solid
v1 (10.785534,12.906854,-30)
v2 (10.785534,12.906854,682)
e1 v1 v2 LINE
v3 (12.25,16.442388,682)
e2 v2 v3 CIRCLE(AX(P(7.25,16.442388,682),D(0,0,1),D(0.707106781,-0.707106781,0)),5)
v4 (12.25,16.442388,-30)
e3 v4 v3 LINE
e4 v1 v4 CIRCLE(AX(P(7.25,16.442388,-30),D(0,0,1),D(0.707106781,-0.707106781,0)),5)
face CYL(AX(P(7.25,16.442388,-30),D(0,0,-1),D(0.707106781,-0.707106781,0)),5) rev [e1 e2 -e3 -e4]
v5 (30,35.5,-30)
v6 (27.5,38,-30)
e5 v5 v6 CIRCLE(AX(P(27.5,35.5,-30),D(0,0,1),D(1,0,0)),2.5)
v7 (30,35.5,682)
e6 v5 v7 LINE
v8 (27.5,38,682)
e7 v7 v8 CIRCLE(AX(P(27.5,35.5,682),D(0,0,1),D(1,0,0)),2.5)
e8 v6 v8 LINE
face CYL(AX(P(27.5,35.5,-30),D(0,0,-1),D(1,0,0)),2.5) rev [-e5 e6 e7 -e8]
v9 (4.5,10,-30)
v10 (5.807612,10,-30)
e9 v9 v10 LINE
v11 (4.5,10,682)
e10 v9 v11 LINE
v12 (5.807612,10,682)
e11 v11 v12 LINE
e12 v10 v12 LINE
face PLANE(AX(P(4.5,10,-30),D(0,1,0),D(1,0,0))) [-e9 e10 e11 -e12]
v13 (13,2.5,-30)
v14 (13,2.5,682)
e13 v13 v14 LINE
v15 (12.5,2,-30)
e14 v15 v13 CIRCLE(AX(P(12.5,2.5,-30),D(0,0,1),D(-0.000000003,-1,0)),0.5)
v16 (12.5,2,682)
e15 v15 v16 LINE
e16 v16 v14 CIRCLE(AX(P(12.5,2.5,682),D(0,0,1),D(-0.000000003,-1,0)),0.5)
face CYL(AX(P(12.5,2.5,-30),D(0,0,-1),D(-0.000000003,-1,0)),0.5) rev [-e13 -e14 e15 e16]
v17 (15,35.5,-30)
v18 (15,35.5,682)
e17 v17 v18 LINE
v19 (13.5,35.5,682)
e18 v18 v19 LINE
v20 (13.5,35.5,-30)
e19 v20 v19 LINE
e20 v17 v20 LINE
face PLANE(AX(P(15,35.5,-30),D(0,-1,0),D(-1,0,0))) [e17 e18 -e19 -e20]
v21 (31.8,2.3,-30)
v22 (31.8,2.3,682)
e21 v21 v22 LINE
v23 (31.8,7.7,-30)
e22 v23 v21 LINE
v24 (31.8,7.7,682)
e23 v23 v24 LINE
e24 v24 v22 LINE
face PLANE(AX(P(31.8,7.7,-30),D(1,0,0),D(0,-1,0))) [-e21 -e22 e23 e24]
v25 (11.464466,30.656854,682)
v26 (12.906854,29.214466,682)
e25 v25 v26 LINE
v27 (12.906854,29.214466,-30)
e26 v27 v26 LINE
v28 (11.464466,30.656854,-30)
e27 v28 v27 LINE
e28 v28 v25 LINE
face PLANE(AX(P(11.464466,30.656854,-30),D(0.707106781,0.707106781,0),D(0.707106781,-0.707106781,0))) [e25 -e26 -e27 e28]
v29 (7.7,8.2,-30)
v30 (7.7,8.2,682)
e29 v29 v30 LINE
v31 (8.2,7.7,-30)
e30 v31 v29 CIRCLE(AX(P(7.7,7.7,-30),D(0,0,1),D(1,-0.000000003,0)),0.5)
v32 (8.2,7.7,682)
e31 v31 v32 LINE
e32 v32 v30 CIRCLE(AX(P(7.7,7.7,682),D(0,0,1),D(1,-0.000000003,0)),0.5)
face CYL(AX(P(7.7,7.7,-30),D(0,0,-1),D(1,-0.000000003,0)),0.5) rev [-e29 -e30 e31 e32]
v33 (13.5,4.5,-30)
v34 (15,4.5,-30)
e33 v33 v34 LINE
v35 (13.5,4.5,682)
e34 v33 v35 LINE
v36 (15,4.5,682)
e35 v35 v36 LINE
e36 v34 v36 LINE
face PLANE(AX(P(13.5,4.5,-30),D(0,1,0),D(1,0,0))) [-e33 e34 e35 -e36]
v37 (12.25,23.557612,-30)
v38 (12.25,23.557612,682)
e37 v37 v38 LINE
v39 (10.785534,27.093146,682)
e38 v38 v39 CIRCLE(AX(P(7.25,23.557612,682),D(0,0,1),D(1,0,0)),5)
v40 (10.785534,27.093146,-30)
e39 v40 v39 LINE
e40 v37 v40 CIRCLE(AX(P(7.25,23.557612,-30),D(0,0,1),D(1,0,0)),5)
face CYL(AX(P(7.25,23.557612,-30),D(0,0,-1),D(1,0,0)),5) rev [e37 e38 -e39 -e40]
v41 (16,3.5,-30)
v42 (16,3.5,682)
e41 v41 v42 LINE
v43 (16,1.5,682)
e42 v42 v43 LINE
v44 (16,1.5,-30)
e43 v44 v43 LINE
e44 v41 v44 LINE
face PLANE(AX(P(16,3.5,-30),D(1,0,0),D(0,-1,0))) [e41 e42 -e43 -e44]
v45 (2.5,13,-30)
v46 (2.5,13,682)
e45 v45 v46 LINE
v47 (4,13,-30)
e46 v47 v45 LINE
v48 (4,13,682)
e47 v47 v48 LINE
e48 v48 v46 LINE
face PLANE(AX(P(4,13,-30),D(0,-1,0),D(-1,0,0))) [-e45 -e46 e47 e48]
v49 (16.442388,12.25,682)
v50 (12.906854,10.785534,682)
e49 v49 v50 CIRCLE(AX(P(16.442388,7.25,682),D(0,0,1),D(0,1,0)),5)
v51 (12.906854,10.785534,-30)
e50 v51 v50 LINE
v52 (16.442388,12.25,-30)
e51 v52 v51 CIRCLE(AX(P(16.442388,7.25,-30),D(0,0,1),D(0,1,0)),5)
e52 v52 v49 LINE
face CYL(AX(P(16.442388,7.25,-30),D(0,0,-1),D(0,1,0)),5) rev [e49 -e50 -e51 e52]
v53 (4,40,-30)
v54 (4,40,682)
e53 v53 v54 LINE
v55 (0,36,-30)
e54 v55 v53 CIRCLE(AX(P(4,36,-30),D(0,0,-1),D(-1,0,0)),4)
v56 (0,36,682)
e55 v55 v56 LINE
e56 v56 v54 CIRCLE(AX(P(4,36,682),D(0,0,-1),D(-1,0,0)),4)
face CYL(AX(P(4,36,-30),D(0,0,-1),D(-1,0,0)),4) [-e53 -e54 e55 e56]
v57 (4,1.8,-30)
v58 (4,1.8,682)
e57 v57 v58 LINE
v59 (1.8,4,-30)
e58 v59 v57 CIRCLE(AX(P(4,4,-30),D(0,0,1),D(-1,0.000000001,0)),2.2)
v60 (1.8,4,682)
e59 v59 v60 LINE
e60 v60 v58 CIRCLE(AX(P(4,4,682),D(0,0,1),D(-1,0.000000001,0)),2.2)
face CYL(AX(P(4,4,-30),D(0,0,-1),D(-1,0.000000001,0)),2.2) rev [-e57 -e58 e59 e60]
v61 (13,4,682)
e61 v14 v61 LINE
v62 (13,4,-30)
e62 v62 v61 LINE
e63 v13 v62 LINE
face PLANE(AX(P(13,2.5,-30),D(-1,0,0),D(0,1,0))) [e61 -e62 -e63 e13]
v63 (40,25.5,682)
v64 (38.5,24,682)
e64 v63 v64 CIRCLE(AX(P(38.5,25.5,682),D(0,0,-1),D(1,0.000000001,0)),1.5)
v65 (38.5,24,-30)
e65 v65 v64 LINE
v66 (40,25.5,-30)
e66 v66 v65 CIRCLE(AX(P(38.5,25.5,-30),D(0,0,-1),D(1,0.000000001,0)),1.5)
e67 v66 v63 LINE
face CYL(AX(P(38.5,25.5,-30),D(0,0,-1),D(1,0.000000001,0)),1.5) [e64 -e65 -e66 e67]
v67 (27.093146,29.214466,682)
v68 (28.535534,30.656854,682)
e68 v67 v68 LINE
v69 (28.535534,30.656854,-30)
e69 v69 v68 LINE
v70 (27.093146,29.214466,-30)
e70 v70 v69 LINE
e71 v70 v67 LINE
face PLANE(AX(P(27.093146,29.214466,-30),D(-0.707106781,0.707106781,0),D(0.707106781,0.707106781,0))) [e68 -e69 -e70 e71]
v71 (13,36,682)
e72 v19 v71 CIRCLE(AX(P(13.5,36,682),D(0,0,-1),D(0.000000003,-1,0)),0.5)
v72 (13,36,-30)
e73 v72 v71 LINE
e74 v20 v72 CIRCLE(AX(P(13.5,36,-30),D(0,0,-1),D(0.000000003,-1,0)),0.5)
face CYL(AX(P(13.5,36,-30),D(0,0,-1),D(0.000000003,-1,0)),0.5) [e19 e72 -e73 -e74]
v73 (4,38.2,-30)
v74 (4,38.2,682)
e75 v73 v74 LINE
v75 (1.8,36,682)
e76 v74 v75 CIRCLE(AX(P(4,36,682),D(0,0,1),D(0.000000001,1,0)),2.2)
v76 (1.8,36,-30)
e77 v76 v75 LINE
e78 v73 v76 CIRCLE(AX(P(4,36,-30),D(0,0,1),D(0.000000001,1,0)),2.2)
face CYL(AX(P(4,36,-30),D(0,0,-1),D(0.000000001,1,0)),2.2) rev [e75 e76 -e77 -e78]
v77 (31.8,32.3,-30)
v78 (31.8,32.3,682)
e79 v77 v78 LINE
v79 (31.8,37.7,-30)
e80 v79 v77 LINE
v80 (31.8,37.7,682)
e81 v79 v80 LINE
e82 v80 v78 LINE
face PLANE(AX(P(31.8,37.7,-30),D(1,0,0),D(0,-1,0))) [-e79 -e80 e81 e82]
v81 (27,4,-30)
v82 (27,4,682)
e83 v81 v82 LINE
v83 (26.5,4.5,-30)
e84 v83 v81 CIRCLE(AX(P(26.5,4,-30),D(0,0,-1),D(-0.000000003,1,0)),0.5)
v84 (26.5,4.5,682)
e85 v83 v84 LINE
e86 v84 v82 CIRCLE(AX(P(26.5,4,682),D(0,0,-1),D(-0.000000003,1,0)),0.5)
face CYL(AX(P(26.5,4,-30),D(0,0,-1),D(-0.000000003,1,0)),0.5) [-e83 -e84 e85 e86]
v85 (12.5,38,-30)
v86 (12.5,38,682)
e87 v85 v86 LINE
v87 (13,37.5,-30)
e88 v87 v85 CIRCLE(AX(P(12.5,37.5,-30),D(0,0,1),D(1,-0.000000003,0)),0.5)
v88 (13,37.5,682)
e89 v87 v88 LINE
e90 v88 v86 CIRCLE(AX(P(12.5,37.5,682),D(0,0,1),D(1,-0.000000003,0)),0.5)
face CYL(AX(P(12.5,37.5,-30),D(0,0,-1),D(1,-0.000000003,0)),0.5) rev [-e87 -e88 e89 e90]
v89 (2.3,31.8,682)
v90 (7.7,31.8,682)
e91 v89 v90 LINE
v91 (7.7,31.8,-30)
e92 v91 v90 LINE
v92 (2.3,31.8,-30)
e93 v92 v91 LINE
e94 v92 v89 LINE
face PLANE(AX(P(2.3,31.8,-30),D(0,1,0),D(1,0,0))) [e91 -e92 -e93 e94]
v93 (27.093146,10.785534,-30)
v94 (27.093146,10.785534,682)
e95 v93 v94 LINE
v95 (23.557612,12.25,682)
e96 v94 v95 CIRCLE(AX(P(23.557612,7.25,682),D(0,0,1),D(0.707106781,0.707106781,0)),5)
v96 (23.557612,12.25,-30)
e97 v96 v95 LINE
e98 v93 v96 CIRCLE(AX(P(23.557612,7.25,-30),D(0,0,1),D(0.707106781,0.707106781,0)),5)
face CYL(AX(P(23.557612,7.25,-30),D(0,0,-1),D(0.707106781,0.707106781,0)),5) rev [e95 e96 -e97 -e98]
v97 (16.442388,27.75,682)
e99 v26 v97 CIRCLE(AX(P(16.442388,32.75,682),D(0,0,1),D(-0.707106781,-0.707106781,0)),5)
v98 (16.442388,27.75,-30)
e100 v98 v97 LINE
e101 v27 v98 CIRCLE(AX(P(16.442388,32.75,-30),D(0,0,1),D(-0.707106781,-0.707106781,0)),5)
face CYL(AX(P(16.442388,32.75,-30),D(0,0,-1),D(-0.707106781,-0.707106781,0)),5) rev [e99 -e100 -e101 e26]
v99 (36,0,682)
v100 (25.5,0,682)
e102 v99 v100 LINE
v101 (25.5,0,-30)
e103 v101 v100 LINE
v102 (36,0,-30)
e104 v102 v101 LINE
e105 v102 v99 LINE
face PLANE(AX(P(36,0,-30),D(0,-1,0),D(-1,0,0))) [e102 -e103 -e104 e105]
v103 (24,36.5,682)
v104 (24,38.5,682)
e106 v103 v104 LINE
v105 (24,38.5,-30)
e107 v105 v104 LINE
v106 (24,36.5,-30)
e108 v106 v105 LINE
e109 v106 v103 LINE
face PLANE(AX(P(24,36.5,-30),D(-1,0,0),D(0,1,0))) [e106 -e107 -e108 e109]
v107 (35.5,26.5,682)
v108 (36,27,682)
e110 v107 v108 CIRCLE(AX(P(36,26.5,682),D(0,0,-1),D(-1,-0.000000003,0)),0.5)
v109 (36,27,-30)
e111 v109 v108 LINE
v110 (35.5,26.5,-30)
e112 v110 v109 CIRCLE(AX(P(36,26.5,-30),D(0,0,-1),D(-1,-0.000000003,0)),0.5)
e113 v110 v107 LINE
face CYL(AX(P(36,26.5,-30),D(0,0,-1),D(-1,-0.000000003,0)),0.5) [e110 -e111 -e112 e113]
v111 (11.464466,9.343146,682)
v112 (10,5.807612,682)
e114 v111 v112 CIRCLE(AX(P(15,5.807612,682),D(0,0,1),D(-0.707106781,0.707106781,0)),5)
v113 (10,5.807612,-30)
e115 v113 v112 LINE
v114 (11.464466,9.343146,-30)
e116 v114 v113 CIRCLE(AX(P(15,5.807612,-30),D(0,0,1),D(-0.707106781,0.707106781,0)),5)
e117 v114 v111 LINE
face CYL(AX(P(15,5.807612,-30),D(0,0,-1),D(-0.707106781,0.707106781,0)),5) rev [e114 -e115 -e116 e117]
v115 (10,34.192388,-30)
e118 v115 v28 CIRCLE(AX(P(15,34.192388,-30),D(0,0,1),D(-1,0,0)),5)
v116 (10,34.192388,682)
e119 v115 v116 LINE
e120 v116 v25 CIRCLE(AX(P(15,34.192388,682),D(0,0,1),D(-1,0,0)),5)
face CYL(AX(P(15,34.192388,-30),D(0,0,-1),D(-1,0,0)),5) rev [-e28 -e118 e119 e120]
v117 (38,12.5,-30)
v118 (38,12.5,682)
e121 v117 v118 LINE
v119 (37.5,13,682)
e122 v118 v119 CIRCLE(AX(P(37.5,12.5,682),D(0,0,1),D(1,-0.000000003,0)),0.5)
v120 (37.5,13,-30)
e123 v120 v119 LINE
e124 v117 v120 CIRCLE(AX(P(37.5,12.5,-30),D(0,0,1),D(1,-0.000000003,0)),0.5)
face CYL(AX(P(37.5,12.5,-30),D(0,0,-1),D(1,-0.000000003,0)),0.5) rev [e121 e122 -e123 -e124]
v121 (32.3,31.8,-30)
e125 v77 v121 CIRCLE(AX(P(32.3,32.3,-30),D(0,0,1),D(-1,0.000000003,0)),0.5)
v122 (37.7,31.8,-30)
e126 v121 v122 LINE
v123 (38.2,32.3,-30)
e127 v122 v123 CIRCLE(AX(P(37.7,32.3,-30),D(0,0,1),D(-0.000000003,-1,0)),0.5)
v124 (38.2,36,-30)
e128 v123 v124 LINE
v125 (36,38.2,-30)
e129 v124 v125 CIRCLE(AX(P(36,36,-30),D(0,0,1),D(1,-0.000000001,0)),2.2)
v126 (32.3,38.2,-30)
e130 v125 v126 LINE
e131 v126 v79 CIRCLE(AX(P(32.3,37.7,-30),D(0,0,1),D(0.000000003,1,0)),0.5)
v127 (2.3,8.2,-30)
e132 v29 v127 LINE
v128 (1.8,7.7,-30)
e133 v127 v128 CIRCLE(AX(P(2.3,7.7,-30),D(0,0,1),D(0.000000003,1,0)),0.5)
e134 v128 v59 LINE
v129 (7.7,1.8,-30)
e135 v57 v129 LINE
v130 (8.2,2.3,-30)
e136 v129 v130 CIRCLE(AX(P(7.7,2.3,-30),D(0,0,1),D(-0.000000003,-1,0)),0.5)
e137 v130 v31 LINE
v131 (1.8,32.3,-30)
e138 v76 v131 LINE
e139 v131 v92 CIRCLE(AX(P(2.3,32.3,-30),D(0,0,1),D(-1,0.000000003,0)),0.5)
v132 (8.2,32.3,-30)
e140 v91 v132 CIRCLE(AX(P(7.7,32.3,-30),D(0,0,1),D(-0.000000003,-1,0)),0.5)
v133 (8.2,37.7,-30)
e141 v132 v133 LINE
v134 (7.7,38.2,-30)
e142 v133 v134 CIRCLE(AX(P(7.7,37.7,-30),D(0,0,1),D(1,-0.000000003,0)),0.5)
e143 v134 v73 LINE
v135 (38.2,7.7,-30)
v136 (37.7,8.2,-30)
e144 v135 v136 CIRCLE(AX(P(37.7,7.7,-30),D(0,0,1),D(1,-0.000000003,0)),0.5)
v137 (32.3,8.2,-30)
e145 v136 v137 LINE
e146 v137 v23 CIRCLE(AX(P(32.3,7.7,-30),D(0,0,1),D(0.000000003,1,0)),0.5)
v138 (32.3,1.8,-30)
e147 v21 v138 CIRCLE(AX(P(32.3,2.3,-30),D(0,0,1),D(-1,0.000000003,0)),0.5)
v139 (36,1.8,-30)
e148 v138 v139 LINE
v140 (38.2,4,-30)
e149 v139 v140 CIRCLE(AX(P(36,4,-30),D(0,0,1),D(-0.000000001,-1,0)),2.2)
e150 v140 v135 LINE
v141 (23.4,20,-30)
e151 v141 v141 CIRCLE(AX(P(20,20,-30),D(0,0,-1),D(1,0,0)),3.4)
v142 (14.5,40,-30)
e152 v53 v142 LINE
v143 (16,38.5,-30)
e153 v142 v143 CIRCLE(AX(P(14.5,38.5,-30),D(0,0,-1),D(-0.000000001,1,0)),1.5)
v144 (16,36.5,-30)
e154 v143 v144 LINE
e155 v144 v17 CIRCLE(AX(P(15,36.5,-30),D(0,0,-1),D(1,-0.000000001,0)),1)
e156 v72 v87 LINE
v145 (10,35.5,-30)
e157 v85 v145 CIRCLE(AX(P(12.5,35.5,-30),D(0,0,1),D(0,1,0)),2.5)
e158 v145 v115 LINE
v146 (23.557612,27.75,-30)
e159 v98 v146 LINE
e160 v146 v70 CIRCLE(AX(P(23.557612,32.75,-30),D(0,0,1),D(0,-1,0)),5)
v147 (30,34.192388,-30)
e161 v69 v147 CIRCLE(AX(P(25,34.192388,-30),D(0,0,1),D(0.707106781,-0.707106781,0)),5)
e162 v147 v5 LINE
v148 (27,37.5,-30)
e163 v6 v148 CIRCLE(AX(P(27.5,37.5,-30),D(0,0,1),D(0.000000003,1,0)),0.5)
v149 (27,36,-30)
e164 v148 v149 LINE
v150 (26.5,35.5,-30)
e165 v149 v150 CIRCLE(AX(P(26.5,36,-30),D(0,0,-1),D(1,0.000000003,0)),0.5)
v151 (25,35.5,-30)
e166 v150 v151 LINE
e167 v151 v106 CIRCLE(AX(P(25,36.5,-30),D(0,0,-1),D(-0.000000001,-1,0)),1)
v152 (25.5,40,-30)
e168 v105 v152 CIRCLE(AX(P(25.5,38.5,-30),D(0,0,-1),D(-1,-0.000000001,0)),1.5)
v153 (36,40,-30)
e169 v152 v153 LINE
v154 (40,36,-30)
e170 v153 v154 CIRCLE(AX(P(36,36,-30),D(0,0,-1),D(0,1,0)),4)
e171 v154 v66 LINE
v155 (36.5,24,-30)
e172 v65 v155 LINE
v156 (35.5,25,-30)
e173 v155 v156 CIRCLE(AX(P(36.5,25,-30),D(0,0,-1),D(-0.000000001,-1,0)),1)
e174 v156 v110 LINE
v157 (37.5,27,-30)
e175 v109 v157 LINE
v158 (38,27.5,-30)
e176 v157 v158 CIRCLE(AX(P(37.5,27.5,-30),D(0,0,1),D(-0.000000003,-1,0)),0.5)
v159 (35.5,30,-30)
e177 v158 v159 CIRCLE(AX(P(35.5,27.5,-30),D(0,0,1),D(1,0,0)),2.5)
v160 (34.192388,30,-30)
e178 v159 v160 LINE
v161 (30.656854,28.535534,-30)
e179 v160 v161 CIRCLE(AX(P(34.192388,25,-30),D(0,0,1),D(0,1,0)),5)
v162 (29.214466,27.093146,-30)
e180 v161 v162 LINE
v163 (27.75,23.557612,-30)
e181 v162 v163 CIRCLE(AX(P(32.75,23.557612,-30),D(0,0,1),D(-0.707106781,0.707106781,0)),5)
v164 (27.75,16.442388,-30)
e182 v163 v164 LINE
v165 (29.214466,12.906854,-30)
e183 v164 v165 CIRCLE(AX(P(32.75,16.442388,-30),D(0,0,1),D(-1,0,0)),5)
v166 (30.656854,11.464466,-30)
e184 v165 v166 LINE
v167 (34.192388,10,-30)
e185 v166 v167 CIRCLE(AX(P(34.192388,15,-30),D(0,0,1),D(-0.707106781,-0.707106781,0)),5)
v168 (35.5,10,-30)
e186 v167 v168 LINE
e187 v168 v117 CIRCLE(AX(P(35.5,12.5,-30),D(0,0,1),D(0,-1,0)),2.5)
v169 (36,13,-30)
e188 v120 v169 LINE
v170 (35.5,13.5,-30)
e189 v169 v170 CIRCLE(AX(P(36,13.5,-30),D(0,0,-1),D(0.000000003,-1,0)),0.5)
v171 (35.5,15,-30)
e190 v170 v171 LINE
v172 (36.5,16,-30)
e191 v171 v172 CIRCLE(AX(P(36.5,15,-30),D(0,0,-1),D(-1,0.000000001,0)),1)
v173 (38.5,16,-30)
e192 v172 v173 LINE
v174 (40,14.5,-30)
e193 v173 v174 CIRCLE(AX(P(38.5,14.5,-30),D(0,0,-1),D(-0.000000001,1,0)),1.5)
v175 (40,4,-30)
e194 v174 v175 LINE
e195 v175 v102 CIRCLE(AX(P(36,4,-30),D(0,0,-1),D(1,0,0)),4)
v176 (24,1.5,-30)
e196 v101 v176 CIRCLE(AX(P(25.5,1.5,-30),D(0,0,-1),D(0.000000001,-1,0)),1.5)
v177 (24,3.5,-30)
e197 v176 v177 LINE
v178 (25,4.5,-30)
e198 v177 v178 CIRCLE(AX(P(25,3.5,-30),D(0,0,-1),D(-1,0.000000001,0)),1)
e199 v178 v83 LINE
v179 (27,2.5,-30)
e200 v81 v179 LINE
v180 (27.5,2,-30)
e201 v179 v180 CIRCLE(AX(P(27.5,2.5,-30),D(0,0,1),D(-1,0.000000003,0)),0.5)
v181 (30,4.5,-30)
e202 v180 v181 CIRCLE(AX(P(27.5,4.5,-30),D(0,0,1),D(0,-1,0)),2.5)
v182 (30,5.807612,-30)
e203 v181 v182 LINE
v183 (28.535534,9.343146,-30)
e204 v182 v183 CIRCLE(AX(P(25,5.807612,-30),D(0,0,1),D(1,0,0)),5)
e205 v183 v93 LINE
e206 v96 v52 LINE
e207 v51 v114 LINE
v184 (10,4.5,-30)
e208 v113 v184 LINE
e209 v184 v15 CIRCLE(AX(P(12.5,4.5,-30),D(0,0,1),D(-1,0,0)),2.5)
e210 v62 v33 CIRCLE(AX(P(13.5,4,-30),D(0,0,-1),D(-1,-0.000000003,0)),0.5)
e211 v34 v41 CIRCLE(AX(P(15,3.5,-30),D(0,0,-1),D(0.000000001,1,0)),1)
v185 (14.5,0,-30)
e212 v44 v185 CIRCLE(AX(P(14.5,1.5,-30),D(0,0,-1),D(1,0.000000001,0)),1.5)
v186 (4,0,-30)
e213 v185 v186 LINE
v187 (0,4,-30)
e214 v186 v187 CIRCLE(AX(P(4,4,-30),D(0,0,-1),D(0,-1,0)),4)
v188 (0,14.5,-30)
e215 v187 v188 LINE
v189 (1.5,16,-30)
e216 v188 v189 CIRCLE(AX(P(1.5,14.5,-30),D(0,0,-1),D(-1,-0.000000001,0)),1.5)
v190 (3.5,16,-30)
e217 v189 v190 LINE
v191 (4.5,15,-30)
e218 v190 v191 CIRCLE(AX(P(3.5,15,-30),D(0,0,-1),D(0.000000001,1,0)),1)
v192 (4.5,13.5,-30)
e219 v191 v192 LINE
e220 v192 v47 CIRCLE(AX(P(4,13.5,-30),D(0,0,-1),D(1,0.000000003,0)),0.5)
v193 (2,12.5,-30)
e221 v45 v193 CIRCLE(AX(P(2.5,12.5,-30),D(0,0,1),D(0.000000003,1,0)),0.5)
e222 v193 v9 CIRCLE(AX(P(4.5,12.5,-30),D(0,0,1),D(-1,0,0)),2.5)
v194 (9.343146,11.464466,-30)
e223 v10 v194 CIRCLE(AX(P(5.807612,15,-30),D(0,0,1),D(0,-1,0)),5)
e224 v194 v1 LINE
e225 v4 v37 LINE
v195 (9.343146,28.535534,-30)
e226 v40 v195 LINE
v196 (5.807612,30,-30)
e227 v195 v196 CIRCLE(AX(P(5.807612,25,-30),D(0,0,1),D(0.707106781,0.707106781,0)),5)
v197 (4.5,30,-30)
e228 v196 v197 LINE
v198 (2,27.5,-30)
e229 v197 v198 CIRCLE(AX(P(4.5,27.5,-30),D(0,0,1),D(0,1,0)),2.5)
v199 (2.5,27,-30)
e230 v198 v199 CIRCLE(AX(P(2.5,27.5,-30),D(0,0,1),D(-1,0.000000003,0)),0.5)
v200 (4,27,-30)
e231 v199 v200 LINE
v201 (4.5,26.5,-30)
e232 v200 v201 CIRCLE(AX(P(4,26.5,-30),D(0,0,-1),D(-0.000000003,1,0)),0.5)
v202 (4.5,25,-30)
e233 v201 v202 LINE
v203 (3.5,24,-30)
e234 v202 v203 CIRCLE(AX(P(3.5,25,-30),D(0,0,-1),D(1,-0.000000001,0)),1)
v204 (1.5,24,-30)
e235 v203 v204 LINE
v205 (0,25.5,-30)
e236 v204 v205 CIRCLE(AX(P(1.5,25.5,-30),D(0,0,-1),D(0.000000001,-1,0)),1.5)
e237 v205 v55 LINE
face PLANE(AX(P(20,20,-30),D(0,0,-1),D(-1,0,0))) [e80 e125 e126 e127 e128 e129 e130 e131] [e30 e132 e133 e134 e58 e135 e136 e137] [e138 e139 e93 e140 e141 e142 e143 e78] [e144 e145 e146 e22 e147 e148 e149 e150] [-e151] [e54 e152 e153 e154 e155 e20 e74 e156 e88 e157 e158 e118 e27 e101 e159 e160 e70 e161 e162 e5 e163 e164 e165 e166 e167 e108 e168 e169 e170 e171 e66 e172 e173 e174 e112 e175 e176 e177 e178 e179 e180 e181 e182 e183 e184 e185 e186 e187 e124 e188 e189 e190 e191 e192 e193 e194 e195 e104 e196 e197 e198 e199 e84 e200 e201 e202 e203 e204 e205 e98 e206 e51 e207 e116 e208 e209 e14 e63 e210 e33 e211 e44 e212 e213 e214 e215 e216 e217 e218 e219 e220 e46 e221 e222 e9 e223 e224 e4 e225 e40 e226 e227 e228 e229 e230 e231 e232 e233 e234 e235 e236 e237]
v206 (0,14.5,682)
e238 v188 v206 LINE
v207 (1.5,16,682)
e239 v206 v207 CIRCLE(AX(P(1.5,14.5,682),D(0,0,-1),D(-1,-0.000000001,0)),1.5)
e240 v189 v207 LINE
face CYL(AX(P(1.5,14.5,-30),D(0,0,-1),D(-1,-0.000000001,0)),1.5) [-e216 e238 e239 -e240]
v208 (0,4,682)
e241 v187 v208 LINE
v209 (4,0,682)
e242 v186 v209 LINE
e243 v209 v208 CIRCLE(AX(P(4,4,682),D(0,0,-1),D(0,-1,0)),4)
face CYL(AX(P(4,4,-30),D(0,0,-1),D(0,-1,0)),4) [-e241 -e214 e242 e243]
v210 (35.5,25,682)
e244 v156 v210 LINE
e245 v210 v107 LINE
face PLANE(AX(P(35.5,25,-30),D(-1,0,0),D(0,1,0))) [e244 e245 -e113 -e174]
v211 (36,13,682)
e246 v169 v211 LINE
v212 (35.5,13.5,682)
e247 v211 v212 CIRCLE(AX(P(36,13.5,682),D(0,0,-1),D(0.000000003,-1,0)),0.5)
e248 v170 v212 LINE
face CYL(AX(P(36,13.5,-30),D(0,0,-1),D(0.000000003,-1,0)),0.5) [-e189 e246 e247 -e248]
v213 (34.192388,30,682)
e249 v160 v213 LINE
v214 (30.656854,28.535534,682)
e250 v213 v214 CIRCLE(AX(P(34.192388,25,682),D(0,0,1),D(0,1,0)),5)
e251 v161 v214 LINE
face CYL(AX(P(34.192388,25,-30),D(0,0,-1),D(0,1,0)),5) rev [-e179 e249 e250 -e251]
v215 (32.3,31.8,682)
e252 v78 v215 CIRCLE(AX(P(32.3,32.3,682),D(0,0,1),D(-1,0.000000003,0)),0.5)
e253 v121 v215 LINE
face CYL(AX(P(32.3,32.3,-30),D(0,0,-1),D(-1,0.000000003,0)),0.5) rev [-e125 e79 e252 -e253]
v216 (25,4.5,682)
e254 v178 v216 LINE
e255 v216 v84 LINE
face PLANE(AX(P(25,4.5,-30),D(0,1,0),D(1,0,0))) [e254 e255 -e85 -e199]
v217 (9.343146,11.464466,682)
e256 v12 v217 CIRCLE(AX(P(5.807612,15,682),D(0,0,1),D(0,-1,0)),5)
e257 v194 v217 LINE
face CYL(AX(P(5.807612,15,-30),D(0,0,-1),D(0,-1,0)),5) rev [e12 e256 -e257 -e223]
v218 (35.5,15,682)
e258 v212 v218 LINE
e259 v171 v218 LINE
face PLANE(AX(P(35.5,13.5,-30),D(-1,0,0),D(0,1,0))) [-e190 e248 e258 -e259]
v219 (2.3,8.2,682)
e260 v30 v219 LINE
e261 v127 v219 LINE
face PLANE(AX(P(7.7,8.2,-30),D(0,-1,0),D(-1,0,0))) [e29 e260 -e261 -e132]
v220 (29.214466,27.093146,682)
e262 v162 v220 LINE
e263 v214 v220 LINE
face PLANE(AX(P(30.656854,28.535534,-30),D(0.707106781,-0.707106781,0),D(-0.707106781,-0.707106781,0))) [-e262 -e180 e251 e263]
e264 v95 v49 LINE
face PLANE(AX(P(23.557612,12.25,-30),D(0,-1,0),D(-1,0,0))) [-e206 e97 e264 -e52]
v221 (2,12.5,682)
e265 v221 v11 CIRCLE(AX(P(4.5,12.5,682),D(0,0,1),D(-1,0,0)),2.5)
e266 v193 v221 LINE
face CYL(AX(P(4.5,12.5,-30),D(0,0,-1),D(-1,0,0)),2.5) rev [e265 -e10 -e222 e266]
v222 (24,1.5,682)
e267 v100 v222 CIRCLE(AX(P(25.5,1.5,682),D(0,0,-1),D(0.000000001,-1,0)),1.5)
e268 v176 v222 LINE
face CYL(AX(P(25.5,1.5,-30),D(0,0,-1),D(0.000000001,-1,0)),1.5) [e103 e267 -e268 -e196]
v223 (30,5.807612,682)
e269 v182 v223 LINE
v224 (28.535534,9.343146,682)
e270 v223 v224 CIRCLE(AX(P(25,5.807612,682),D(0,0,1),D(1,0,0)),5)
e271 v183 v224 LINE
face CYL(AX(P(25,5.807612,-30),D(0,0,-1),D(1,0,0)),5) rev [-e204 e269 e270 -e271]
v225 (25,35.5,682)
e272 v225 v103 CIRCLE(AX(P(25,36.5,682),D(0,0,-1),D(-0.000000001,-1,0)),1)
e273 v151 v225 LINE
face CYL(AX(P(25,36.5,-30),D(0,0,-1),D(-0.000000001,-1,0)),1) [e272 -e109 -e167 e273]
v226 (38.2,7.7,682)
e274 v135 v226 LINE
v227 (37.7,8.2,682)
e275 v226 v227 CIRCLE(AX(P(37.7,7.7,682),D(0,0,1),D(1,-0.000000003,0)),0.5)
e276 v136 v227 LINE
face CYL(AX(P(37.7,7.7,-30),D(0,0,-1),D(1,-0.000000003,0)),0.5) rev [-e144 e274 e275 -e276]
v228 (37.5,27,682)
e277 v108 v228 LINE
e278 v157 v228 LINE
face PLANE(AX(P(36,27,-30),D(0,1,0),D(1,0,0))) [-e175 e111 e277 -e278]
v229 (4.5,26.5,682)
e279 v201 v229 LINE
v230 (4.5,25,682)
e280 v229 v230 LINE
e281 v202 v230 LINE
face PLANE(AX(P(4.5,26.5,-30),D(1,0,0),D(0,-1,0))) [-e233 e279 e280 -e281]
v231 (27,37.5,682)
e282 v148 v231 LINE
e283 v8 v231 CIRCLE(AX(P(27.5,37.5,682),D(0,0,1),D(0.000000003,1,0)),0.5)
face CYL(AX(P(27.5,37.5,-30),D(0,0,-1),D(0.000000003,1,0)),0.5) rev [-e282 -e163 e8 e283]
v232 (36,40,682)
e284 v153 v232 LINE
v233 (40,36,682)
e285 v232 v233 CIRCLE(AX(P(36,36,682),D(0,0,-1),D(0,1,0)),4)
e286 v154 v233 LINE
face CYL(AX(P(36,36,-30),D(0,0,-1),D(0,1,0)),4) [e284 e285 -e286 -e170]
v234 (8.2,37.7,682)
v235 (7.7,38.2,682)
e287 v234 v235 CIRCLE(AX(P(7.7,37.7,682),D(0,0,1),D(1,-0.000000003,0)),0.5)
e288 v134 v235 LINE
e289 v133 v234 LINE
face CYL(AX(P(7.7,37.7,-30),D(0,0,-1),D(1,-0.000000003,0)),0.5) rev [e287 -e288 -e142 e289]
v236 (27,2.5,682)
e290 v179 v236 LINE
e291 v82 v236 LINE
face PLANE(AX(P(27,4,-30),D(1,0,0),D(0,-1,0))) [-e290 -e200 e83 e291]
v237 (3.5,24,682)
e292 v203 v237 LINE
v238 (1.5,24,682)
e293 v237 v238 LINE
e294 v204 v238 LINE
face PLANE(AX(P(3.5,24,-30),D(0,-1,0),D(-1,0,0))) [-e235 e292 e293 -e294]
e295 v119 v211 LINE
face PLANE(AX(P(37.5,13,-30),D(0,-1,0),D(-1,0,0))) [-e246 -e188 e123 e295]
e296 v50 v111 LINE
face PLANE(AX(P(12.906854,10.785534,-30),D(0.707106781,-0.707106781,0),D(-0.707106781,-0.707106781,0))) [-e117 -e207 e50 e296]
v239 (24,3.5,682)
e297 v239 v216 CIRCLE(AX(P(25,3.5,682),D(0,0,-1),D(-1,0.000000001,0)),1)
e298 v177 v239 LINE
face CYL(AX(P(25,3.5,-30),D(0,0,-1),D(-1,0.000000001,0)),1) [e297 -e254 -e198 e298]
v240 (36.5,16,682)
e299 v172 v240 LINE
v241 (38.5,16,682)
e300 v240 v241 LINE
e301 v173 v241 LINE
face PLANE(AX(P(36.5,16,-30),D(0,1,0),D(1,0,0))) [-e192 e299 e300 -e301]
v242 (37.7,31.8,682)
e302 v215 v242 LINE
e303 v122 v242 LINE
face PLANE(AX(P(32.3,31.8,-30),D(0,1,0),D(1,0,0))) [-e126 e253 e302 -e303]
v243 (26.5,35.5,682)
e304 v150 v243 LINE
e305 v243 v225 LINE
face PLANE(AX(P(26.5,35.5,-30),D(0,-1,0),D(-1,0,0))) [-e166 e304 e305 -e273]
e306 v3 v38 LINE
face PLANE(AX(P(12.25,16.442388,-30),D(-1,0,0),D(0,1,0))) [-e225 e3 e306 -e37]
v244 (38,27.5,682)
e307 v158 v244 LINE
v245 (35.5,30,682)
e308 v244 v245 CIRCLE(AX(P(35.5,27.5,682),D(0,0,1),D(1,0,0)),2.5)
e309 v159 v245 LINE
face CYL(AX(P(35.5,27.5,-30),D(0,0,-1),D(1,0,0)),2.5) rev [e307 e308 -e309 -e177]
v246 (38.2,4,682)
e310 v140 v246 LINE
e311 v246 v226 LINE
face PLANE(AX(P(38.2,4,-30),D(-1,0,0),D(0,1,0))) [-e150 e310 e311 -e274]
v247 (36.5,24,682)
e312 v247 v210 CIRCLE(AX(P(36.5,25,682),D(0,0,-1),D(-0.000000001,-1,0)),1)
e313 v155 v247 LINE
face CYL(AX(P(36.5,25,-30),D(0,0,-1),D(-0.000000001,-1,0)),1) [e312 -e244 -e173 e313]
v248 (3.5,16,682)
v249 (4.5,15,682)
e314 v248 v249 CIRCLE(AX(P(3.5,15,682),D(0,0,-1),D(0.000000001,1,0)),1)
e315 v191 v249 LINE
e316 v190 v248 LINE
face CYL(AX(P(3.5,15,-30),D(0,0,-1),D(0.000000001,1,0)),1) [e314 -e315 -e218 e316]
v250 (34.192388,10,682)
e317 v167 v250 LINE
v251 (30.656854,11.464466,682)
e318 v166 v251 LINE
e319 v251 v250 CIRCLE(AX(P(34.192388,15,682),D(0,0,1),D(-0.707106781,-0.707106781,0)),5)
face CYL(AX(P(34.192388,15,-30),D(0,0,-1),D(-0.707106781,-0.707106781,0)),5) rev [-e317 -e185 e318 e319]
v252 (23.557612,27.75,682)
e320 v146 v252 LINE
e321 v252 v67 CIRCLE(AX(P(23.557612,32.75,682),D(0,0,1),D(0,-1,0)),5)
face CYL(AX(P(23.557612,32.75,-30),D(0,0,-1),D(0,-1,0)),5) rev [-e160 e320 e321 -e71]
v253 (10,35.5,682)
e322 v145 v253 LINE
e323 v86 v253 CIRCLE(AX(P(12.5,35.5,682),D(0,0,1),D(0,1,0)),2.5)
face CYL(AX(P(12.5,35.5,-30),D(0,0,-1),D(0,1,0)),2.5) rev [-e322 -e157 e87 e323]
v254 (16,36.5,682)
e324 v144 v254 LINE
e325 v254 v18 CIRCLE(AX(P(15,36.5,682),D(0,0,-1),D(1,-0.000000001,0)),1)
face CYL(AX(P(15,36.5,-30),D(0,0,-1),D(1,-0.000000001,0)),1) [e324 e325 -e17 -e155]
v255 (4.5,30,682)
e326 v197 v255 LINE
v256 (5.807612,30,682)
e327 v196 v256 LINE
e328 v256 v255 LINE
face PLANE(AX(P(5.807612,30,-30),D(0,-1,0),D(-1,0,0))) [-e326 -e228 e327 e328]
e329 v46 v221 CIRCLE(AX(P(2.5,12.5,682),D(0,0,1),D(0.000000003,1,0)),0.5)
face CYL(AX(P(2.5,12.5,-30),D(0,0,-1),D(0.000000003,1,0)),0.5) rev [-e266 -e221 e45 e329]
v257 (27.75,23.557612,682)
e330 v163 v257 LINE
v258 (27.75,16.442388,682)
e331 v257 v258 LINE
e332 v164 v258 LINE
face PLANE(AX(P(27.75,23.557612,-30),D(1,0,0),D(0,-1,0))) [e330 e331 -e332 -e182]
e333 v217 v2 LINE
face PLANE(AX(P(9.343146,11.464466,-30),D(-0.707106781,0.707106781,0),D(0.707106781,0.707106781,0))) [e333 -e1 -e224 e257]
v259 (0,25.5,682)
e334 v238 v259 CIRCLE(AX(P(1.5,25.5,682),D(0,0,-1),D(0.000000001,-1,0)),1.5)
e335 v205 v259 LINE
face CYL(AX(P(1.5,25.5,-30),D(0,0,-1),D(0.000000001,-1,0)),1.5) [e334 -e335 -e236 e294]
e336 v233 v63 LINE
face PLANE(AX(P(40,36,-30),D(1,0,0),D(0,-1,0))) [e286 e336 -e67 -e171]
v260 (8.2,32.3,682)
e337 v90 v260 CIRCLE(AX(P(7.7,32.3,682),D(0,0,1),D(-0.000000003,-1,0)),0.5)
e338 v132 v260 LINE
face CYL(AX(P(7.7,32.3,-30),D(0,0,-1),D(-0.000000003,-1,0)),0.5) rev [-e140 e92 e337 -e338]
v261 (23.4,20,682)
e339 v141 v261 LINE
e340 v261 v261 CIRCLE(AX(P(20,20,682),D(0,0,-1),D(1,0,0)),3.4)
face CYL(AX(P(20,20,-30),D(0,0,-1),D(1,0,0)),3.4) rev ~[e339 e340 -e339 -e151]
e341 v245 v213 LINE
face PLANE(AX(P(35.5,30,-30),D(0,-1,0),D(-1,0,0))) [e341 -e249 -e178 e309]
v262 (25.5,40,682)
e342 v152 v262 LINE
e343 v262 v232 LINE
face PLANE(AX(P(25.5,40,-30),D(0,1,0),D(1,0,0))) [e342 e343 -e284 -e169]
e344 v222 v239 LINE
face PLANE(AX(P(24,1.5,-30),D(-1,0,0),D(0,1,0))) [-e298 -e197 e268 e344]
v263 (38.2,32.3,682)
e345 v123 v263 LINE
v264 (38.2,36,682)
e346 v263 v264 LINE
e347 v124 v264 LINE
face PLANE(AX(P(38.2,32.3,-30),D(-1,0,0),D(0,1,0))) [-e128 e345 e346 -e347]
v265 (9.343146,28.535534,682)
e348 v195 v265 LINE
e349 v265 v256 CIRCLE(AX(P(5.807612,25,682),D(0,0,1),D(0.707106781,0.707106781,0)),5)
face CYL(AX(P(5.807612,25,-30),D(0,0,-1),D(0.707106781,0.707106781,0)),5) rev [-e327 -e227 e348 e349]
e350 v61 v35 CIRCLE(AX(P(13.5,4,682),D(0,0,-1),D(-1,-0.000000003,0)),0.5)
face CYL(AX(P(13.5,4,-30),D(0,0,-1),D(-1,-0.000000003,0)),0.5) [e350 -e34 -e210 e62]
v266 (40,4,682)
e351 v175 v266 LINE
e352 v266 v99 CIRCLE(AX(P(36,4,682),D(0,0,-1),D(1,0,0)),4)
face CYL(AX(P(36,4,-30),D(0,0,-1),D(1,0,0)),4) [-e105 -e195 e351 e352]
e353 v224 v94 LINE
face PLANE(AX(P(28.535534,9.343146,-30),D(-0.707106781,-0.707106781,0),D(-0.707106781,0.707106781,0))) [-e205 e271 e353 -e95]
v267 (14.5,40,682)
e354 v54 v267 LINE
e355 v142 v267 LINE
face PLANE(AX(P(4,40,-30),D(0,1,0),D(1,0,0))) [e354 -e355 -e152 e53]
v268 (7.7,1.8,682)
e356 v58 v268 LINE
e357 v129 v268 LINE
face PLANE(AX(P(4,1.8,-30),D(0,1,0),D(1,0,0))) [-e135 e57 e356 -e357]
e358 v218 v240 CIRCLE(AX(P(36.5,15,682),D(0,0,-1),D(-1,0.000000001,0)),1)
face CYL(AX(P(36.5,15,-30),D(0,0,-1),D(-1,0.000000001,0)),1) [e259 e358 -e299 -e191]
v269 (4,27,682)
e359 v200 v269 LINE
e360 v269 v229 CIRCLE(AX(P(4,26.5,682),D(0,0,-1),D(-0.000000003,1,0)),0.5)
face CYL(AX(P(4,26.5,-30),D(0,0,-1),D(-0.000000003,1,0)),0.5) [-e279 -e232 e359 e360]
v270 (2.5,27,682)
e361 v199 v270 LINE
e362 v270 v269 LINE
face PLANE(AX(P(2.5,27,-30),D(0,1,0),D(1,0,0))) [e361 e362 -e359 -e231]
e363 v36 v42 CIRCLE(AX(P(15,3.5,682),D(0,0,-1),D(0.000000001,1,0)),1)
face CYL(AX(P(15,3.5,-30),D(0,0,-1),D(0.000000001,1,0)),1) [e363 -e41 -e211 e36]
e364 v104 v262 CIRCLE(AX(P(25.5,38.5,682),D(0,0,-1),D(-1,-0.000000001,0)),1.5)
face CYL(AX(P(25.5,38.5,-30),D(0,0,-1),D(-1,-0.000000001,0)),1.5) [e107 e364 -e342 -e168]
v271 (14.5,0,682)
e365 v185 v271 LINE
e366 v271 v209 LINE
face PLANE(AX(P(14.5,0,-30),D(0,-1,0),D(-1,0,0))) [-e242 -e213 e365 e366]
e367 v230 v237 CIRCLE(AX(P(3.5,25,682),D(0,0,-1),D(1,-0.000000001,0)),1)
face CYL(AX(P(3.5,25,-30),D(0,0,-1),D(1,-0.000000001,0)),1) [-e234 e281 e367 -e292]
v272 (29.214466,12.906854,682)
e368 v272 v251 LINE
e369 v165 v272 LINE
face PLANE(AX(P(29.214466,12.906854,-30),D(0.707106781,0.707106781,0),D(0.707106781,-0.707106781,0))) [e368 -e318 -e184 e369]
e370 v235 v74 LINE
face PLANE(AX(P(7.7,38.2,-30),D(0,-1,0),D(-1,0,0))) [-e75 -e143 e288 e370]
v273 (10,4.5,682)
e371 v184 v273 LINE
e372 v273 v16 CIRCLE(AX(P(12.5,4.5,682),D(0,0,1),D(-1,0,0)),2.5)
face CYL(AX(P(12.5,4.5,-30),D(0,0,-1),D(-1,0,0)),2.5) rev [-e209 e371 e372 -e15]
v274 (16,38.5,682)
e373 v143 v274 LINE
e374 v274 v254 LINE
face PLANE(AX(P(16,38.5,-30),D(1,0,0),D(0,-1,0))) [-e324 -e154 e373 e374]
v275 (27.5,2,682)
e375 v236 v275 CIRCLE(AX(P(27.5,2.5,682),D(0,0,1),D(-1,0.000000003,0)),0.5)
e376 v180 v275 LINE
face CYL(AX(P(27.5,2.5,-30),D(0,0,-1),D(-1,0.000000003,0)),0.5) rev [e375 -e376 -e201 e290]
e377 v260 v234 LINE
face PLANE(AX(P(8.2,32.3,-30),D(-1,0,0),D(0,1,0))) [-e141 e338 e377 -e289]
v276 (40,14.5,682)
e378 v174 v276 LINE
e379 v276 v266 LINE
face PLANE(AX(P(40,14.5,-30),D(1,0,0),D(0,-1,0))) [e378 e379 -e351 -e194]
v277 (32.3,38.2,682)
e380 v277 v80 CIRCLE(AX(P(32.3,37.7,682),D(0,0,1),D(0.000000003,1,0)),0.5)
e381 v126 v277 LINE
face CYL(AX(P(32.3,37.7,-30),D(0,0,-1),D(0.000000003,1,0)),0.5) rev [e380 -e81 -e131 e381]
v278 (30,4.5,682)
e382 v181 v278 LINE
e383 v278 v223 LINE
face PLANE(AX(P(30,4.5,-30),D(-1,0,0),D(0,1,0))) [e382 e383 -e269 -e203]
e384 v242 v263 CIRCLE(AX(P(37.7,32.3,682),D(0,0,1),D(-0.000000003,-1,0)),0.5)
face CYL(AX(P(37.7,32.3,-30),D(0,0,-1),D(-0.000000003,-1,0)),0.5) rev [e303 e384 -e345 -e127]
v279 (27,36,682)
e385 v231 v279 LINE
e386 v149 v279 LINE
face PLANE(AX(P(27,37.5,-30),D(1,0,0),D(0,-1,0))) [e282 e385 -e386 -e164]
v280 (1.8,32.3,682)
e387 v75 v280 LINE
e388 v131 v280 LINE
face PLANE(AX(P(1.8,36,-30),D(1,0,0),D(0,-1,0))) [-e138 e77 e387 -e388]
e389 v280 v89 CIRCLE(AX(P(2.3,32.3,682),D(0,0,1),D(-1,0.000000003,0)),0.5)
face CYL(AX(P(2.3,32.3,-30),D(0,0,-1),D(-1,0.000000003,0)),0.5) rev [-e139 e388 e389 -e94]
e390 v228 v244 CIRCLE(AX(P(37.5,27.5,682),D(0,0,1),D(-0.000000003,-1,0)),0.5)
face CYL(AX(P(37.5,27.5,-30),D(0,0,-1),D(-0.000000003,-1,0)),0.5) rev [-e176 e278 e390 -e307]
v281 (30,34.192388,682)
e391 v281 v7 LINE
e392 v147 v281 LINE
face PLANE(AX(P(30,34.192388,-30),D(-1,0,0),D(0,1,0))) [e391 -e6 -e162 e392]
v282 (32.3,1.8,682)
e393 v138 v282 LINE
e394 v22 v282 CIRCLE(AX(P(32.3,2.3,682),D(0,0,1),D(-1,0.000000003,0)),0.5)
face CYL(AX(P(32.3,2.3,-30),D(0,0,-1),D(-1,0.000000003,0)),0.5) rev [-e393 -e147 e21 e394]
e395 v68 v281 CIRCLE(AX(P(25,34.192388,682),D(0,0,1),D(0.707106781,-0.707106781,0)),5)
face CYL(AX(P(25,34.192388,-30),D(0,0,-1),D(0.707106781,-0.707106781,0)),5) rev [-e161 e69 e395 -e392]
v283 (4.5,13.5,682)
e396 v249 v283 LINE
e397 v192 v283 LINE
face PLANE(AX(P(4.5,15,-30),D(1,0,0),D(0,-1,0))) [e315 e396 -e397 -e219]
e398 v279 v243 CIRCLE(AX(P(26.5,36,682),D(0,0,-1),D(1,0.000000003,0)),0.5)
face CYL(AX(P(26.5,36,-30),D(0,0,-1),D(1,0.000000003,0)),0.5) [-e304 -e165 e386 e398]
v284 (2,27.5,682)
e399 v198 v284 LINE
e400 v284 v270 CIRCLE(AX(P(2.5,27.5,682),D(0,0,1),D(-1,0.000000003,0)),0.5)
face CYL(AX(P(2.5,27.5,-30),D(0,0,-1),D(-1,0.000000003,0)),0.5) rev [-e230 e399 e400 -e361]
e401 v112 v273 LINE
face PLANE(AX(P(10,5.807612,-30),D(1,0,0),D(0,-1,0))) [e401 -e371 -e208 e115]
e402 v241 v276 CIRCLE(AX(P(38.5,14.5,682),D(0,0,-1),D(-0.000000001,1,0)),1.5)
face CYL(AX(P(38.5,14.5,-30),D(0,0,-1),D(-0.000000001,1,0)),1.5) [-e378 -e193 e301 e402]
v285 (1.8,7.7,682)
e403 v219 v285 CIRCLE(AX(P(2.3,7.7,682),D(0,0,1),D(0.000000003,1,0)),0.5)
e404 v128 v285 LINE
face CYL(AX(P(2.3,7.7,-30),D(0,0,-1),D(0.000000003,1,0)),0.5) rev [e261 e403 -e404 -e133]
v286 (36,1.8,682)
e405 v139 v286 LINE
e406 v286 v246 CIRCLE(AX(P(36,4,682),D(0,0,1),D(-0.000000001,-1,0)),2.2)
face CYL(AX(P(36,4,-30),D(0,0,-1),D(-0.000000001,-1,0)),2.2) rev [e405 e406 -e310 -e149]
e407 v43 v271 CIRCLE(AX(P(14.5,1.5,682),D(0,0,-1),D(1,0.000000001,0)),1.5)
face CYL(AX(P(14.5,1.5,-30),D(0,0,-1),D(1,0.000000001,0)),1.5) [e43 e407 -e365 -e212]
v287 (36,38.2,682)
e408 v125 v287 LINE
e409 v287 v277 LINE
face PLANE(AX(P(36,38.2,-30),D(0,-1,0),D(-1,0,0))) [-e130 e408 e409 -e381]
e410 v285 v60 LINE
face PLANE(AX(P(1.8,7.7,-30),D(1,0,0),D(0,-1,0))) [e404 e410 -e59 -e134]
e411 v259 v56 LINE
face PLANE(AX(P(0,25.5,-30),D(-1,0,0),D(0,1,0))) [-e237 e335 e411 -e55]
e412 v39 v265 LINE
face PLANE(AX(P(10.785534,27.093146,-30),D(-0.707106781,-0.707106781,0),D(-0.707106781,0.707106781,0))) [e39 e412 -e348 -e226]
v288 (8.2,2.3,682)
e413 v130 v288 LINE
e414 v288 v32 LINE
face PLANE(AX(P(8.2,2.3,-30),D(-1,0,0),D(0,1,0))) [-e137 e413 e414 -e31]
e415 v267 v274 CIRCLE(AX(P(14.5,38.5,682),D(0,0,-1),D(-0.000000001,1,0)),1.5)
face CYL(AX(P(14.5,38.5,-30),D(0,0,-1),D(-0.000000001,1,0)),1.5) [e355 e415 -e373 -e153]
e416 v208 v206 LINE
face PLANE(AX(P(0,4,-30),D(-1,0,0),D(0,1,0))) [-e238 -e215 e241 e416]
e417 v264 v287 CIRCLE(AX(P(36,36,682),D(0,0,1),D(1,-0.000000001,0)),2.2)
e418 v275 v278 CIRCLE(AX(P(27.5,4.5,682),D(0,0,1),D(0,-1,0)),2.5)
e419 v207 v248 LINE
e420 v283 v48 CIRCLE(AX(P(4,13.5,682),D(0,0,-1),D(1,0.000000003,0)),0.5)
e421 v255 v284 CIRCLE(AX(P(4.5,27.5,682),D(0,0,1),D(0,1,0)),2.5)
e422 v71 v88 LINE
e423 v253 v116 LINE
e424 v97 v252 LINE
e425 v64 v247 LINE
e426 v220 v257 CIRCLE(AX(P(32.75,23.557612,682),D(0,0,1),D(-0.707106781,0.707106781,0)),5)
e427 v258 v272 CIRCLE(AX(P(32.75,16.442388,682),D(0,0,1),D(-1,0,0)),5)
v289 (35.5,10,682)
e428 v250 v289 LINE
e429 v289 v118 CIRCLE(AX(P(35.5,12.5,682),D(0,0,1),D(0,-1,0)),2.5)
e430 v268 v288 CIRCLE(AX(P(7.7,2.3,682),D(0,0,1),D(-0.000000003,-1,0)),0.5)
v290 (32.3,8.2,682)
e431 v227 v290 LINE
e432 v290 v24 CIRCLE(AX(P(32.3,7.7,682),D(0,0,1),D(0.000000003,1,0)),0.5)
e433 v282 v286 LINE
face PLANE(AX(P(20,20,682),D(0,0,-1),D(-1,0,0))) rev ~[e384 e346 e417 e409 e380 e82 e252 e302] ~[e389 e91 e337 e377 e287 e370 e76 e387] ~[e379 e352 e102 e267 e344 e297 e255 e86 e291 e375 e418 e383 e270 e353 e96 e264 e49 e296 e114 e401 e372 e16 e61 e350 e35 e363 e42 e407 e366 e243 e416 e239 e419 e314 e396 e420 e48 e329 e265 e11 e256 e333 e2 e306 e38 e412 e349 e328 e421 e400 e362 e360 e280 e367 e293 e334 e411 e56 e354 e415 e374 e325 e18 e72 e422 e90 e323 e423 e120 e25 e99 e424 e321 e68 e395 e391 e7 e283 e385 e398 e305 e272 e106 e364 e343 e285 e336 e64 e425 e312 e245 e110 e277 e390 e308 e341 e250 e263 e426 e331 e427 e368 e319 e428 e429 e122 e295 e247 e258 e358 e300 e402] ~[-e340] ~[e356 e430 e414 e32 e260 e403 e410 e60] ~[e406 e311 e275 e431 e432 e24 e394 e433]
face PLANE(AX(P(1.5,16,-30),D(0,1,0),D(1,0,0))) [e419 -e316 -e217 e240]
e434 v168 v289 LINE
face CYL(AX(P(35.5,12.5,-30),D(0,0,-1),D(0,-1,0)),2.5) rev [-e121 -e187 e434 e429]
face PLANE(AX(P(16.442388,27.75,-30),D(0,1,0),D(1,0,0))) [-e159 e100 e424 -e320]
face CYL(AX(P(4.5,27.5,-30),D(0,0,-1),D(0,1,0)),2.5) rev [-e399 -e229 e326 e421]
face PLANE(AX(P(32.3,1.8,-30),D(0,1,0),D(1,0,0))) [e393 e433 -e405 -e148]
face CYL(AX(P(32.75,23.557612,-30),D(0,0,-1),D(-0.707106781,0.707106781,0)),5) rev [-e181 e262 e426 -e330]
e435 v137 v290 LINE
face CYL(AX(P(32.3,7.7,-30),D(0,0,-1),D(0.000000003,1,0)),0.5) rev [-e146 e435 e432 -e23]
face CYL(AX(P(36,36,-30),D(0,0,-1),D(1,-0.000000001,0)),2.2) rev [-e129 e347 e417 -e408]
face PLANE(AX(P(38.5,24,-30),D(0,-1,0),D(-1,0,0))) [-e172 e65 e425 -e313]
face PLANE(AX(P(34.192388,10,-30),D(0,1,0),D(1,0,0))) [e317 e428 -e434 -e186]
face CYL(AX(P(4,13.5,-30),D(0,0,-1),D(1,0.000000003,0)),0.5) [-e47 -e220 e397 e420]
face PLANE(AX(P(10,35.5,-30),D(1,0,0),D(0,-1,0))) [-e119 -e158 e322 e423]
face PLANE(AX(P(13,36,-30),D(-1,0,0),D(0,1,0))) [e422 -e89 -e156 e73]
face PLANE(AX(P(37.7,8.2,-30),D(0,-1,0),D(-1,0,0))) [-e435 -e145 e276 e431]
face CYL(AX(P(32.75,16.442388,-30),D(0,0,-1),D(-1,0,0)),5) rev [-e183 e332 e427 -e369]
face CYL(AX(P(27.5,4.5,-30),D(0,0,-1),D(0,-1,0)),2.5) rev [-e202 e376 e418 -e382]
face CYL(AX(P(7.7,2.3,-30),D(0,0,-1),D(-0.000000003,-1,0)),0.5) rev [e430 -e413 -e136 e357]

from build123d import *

# Parameters (mm, degrees)
ESQUISSE1_R        = 3.4
BOSS_EXTRU_1_DEPTH = 712


with BuildPart() as part:
    # Esquisse1 → Boss.-Extru.1 (new body)
    with BuildSketch(Plane(origin=(0, 0, -30), x_dir=(-1, 0, 0), z_dir=(0, 0, -1))):
        with BuildLine():
            Line((-4.5, 15), (-4.5, 13.5))
            ThreePointArc((-4.5, 13.5), (-4.353553391, 13.146446609), (-4, 13))
            Line((-4, 13), (-2.5, 13))
            ThreePointArc((-2.5, 13), (-2.146446609, 12.853553391), (-2, 12.5))
            ThreePointArc((-2, 12.5), (-2.732233047, 10.732233047), (-4.5, 10))
            Line((-4.5, 10), (-5.807611845, 10))
            ThreePointArc((-5.807611845, 10), (-7.721029006, 10.380602337), (-9.343145751, 11.464466094))
            Line((-9.343145751, 11.464466094), (-10.785533906, 12.906854249))
            ThreePointArc((-10.785533906, 12.906854249), (-11.869397663, 14.528970994), (-12.25, 16.442388155))
            Line((-12.25, 16.442388155), (-12.25, 23.557611845))
            ThreePointArc((-12.25, 23.557611845), (-11.869397663, 25.471029006), (-10.785533906, 27.093145751))
            Line((-10.785533906, 27.093145751), (-9.343145751, 28.535533906))
            ThreePointArc((-9.343145751, 28.535533906), (-7.721029006, 29.619397663), (-5.807611845, 30))
            Line((-5.807611845, 30), (-4.5, 30))
            ThreePointArc((-4.5, 30), (-2.732233047, 29.267766953), (-2, 27.5))
            ThreePointArc((-2, 27.5), (-2.146446609, 27.146446609), (-2.5, 27))
            Line((-2.5, 27), (-4, 27))
            ThreePointArc((-4, 27), (-4.353553391, 26.853553391), (-4.5, 26.5))
            Line((-4.5, 26.5), (-4.5, 25))
            ThreePointArc((-4.5, 25), (-4.207106781, 24.292893219), (-3.5, 24))
            Line((-3.5, 24), (-1.5, 24))
            ThreePointArc((-1.5, 24), (-0.439339828, 24.439339828), (0, 25.5))
            Line((0, 25.5), (0, 36))
            ThreePointArc((0, 36), (-1.171572875, 38.828427125), (-4, 40))
            Line((-4, 40), (-14.5, 40))
            ThreePointArc((-14.5, 40), (-15.560660172, 39.560660172), (-16, 38.5))
            Line((-16, 38.5), (-16, 36.5))
            ThreePointArc((-16, 36.5), (-15.707106781, 35.792893219), (-15, 35.5))
            Line((-15, 35.5), (-13.5, 35.5))
            ThreePointArc((-13.5, 35.5), (-13.146446609, 35.646446609), (-13, 36))
            Line((-13, 36), (-13, 37.5))
            ThreePointArc((-13, 37.5), (-12.853553391, 37.853553391), (-12.5, 38))
            ThreePointArc((-12.5, 38), (-10.732233047, 37.267766953), (-10, 35.5))
            Line((-10, 35.5), (-10, 34.192388155))
            ThreePointArc((-10, 34.192388155), (-10.380602337, 32.278970994), (-11.464466094, 30.656854249))
            Line((-11.464466094, 30.656854249), (-12.906854249, 29.214466094))
            ThreePointArc((-12.906854249, 29.214466094), (-14.528970994, 28.130602337), (-16.442388155, 27.75))
            Line((-16.442388155, 27.75), (-23.557611845, 27.75))
            ThreePointArc((-23.557611845, 27.75), (-25.471029006, 28.130602337), (-27.093145751, 29.214466094))
            Line((-27.093145751, 29.214466094), (-28.535533906, 30.656854249))
            ThreePointArc((-28.535533906, 30.656854249), (-29.619397663, 32.278970994), (-30, 34.192388155))
            Line((-30, 34.192388155), (-30, 35.5))
            ThreePointArc((-30, 35.5), (-29.267766953, 37.267766953), (-27.5, 38))
            ThreePointArc((-27.5, 38), (-27.146446609, 37.853553391), (-27, 37.5))
            Line((-27, 37.5), (-27, 36))
            ThreePointArc((-27, 36), (-26.853553391, 35.646446609), (-26.5, 35.5))
            Line((-26.5, 35.5), (-25, 35.5))
            ThreePointArc((-25, 35.5), (-24.292893219, 35.792893219), (-24, 36.5))
            Line((-24, 36.5), (-24, 38.5))
            ThreePointArc((-24, 38.5), (-24.439339828, 39.560660172), (-25.5, 40))
            Line((-25.5, 40), (-36, 40))
            ThreePointArc((-36, 40), (-38.828427125, 38.828427125), (-40, 36))
            Line((-40, 36), (-40, 25.5))
            ThreePointArc((-40, 25.5), (-39.560660172, 24.439339828), (-38.5, 24))
            Line((-38.5, 24), (-36.5, 24))
            ThreePointArc((-36.5, 24), (-35.792893219, 24.292893219), (-35.5, 25))
            Line((-35.5, 25), (-35.5, 26.5))
            ThreePointArc((-35.5, 26.5), (-35.646446609, 26.853553391), (-36, 27))
            Line((-36, 27), (-37.5, 27))
            ThreePointArc((-37.5, 27), (-37.853553391, 27.146446609), (-38, 27.5))
            ThreePointArc((-38, 27.5), (-37.267766953, 29.267766953), (-35.5, 30))
            Line((-35.5, 30), (-34.192388155, 30))
            ThreePointArc((-34.192388155, 30), (-32.278970994, 29.619397663), (-30.656854249, 28.535533906))
            Line((-30.656854249, 28.535533906), (-29.214466094, 27.093145751))
            ThreePointArc((-29.214466094, 27.093145751), (-28.130602337, 25.471029006), (-27.75, 23.557611845))
            Line((-27.75, 23.557611845), (-27.75, 16.442388155))
            ThreePointArc((-27.75, 16.442388155), (-28.130602337, 14.528970994), (-29.214466094, 12.906854249))
            Line((-29.214466094, 12.906854249), (-30.656854249, 11.464466094))
            ThreePointArc((-30.656854249, 11.464466094), (-32.278970994, 10.380602337), (-34.192388155, 10))
            Line((-34.192388155, 10), (-35.5, 10))
            ThreePointArc((-35.5, 10), (-37.267766953, 10.732233047), (-38, 12.5))
            ThreePointArc((-38, 12.5), (-37.853553391, 12.853553391), (-37.5, 13))
            Line((-37.5, 13), (-36, 13))
            ThreePointArc((-36, 13), (-35.646446609, 13.146446609), (-35.5, 13.5))
            Line((-35.5, 13.5), (-35.5, 15))
            ThreePointArc((-35.5, 15), (-35.792893219, 15.707106781), (-36.5, 16))
            Line((-36.5, 16), (-38.5, 16))
            ThreePointArc((-38.5, 16), (-39.560660172, 15.560660172), (-40, 14.5))
            Line((-40, 14.5), (-40, 4))
            ThreePointArc((-40, 4), (-38.828427125, 1.171572875), (-36, 0))
            Line((-36, 0), (-25.5, 0))
            ThreePointArc((-25.5, 0), (-24.439339828, 0.439339828), (-24, 1.5))
            Line((-24, 1.5), (-24, 3.5))
            ThreePointArc((-24, 3.5), (-24.292893219, 4.207106781), (-25, 4.5))
            Line((-25, 4.5), (-26.5, 4.5))
            ThreePointArc((-26.5, 4.5), (-26.853553391, 4.353553391), (-27, 4))
            Line((-27, 4), (-27, 2.5))
            ThreePointArc((-27, 2.5), (-27.146446609, 2.146446609), (-27.5, 2))
            ThreePointArc((-27.5, 2), (-29.267766953, 2.732233047), (-30, 4.5))
            Line((-30, 4.5), (-30, 5.807611845))
            ThreePointArc((-30, 5.807611845), (-29.619397663, 7.721029006), (-28.535533906, 9.343145751))
            Line((-28.535533906, 9.343145751), (-27.093145751, 10.785533906))
            ThreePointArc((-27.093145751, 10.785533906), (-25.471029006, 11.869397663), (-23.557611845, 12.25))
            Line((-23.557611845, 12.25), (-16.442388155, 12.25))
            ThreePointArc((-16.442388155, 12.25), (-14.528970994, 11.869397663), (-12.906854249, 10.785533906))
            Line((-12.906854249, 10.785533906), (-11.464466094, 9.343145751))
            ThreePointArc((-11.464466094, 9.343145751), (-10.380602337, 7.721029006), (-10, 5.807611845))
            Line((-10, 5.807611845), (-10, 4.5))
            ThreePointArc((-10, 4.5), (-10.732233047, 2.732233047), (-12.5, 2))
            ThreePointArc((-12.5, 2), (-12.853553391, 2.146446609), (-13, 2.5))
            Line((-13, 2.5), (-13, 4))
            ThreePointArc((-13, 4), (-13.146446609, 4.353553391), (-13.5, 4.5))
            Line((-13.5, 4.5), (-15, 4.5))
            ThreePointArc((-15, 4.5), (-15.707106781, 4.207106781), (-16, 3.5))
            Line((-16, 3.5), (-16, 1.5))
            ThreePointArc((-16, 1.5), (-15.560660172, 0.439339828), (-14.5, 0))
            Line((-14.5, 0), (-4, 0))
            ThreePointArc((-4, 0), (-1.171572875, 1.171572875), (0, 4))
            Line((0, 4), (0, 14.5))
            ThreePointArc((0, 14.5), (-0.439339828, 15.560660172), (-1.5, 16))
            Line((-1.5, 16), (-3.5, 16))
            ThreePointArc((-3.5, 16), (-4.207106781, 15.707106781), (-4.5, 15))
        make_face()
        with Locations(Location((-20, 20, 0), (0, 0, 180))):
            Circle(ESQUISSE1_R, mode=Mode.SUBTRACT)
        with BuildLine():
            Line((-4, 1.8), (-7.7, 1.8))
            ThreePointArc((-7.7, 1.8), (-8.053553391, 1.946446609), (-8.2, 2.3))
            Line((-8.2, 2.3), (-8.2, 7.7))
            ThreePointArc((-8.2, 7.7), (-8.053553391, 8.053553391), (-7.7, 8.2))
            Line((-7.7, 8.2), (-2.3, 8.2))
            ThreePointArc((-2.3, 8.2), (-1.946446609, 8.053553391), (-1.8, 7.7))
            Line((-1.8, 7.7), (-1.8, 4))
            ThreePointArc((-1.8, 4), (-2.444365081, 2.444365081), (-4, 1.8))
        make_face(mode=Mode.SUBTRACT)
        with BuildLine():
            Line((-38.2, 4), (-38.2, 7.7))
            ThreePointArc((-38.2, 7.7), (-38.053553391, 8.053553391), (-37.7, 8.2))
            Line((-37.7, 8.2), (-32.3, 8.2))
            ThreePointArc((-32.3, 8.2), (-31.946446609, 8.053553391), (-31.8, 7.7))
            Line((-31.8, 7.7), (-31.8, 2.3))
            ThreePointArc((-31.8, 2.3), (-31.946446609, 1.946446609), (-32.3, 1.8))
            Line((-32.3, 1.8), (-36, 1.8))
            ThreePointArc((-36, 1.8), (-37.555634919, 2.444365081), (-38.2, 4))
        make_face(mode=Mode.SUBTRACT)
        with BuildLine():
            Line((-36, 38.2), (-32.3, 38.2))
            ThreePointArc((-32.3, 38.2), (-31.946446609, 38.053553391), (-31.8, 37.7))
            Line((-31.8, 37.7), (-31.8, 32.3))
            ThreePointArc((-31.8, 32.3), (-31.946446609, 31.946446609), (-32.3, 31.8))
            Line((-32.3, 31.8), (-37.7, 31.8))
            ThreePointArc((-37.7, 31.8), (-38.053553391, 31.946446609), (-38.2, 32.3))
            Line((-38.2, 32.3), (-38.2, 36))
            ThreePointArc((-38.2, 36), (-37.555634919, 37.555634919), (-36, 38.2))
        make_face(mode=Mode.SUBTRACT)
        with BuildLine():
            Line((-1.8, 36), (-1.8, 32.3))
            ThreePointArc((-1.8, 32.3), (-1.946446609, 31.946446609), (-2.3, 31.8))
            Line((-2.3, 31.8), (-7.7, 31.8))
            ThreePointArc((-7.7, 31.8), (-8.053553391, 31.946446609), (-8.2, 32.3))
            Line((-8.2, 32.3), (-8.2, 37.7))
            ThreePointArc((-8.2, 37.7), (-8.053553391, 38.053553391), (-7.7, 38.2))
            Line((-7.7, 38.2), (-4, 38.2))
            ThreePointArc((-4, 38.2), (-2.444365081, 37.555634919), (-1.8, 36))
        make_face(mode=Mode.SUBTRACT)
    extrude(amount=-BOSS_EXTRU_1_DEPTH)


solid = part.part
